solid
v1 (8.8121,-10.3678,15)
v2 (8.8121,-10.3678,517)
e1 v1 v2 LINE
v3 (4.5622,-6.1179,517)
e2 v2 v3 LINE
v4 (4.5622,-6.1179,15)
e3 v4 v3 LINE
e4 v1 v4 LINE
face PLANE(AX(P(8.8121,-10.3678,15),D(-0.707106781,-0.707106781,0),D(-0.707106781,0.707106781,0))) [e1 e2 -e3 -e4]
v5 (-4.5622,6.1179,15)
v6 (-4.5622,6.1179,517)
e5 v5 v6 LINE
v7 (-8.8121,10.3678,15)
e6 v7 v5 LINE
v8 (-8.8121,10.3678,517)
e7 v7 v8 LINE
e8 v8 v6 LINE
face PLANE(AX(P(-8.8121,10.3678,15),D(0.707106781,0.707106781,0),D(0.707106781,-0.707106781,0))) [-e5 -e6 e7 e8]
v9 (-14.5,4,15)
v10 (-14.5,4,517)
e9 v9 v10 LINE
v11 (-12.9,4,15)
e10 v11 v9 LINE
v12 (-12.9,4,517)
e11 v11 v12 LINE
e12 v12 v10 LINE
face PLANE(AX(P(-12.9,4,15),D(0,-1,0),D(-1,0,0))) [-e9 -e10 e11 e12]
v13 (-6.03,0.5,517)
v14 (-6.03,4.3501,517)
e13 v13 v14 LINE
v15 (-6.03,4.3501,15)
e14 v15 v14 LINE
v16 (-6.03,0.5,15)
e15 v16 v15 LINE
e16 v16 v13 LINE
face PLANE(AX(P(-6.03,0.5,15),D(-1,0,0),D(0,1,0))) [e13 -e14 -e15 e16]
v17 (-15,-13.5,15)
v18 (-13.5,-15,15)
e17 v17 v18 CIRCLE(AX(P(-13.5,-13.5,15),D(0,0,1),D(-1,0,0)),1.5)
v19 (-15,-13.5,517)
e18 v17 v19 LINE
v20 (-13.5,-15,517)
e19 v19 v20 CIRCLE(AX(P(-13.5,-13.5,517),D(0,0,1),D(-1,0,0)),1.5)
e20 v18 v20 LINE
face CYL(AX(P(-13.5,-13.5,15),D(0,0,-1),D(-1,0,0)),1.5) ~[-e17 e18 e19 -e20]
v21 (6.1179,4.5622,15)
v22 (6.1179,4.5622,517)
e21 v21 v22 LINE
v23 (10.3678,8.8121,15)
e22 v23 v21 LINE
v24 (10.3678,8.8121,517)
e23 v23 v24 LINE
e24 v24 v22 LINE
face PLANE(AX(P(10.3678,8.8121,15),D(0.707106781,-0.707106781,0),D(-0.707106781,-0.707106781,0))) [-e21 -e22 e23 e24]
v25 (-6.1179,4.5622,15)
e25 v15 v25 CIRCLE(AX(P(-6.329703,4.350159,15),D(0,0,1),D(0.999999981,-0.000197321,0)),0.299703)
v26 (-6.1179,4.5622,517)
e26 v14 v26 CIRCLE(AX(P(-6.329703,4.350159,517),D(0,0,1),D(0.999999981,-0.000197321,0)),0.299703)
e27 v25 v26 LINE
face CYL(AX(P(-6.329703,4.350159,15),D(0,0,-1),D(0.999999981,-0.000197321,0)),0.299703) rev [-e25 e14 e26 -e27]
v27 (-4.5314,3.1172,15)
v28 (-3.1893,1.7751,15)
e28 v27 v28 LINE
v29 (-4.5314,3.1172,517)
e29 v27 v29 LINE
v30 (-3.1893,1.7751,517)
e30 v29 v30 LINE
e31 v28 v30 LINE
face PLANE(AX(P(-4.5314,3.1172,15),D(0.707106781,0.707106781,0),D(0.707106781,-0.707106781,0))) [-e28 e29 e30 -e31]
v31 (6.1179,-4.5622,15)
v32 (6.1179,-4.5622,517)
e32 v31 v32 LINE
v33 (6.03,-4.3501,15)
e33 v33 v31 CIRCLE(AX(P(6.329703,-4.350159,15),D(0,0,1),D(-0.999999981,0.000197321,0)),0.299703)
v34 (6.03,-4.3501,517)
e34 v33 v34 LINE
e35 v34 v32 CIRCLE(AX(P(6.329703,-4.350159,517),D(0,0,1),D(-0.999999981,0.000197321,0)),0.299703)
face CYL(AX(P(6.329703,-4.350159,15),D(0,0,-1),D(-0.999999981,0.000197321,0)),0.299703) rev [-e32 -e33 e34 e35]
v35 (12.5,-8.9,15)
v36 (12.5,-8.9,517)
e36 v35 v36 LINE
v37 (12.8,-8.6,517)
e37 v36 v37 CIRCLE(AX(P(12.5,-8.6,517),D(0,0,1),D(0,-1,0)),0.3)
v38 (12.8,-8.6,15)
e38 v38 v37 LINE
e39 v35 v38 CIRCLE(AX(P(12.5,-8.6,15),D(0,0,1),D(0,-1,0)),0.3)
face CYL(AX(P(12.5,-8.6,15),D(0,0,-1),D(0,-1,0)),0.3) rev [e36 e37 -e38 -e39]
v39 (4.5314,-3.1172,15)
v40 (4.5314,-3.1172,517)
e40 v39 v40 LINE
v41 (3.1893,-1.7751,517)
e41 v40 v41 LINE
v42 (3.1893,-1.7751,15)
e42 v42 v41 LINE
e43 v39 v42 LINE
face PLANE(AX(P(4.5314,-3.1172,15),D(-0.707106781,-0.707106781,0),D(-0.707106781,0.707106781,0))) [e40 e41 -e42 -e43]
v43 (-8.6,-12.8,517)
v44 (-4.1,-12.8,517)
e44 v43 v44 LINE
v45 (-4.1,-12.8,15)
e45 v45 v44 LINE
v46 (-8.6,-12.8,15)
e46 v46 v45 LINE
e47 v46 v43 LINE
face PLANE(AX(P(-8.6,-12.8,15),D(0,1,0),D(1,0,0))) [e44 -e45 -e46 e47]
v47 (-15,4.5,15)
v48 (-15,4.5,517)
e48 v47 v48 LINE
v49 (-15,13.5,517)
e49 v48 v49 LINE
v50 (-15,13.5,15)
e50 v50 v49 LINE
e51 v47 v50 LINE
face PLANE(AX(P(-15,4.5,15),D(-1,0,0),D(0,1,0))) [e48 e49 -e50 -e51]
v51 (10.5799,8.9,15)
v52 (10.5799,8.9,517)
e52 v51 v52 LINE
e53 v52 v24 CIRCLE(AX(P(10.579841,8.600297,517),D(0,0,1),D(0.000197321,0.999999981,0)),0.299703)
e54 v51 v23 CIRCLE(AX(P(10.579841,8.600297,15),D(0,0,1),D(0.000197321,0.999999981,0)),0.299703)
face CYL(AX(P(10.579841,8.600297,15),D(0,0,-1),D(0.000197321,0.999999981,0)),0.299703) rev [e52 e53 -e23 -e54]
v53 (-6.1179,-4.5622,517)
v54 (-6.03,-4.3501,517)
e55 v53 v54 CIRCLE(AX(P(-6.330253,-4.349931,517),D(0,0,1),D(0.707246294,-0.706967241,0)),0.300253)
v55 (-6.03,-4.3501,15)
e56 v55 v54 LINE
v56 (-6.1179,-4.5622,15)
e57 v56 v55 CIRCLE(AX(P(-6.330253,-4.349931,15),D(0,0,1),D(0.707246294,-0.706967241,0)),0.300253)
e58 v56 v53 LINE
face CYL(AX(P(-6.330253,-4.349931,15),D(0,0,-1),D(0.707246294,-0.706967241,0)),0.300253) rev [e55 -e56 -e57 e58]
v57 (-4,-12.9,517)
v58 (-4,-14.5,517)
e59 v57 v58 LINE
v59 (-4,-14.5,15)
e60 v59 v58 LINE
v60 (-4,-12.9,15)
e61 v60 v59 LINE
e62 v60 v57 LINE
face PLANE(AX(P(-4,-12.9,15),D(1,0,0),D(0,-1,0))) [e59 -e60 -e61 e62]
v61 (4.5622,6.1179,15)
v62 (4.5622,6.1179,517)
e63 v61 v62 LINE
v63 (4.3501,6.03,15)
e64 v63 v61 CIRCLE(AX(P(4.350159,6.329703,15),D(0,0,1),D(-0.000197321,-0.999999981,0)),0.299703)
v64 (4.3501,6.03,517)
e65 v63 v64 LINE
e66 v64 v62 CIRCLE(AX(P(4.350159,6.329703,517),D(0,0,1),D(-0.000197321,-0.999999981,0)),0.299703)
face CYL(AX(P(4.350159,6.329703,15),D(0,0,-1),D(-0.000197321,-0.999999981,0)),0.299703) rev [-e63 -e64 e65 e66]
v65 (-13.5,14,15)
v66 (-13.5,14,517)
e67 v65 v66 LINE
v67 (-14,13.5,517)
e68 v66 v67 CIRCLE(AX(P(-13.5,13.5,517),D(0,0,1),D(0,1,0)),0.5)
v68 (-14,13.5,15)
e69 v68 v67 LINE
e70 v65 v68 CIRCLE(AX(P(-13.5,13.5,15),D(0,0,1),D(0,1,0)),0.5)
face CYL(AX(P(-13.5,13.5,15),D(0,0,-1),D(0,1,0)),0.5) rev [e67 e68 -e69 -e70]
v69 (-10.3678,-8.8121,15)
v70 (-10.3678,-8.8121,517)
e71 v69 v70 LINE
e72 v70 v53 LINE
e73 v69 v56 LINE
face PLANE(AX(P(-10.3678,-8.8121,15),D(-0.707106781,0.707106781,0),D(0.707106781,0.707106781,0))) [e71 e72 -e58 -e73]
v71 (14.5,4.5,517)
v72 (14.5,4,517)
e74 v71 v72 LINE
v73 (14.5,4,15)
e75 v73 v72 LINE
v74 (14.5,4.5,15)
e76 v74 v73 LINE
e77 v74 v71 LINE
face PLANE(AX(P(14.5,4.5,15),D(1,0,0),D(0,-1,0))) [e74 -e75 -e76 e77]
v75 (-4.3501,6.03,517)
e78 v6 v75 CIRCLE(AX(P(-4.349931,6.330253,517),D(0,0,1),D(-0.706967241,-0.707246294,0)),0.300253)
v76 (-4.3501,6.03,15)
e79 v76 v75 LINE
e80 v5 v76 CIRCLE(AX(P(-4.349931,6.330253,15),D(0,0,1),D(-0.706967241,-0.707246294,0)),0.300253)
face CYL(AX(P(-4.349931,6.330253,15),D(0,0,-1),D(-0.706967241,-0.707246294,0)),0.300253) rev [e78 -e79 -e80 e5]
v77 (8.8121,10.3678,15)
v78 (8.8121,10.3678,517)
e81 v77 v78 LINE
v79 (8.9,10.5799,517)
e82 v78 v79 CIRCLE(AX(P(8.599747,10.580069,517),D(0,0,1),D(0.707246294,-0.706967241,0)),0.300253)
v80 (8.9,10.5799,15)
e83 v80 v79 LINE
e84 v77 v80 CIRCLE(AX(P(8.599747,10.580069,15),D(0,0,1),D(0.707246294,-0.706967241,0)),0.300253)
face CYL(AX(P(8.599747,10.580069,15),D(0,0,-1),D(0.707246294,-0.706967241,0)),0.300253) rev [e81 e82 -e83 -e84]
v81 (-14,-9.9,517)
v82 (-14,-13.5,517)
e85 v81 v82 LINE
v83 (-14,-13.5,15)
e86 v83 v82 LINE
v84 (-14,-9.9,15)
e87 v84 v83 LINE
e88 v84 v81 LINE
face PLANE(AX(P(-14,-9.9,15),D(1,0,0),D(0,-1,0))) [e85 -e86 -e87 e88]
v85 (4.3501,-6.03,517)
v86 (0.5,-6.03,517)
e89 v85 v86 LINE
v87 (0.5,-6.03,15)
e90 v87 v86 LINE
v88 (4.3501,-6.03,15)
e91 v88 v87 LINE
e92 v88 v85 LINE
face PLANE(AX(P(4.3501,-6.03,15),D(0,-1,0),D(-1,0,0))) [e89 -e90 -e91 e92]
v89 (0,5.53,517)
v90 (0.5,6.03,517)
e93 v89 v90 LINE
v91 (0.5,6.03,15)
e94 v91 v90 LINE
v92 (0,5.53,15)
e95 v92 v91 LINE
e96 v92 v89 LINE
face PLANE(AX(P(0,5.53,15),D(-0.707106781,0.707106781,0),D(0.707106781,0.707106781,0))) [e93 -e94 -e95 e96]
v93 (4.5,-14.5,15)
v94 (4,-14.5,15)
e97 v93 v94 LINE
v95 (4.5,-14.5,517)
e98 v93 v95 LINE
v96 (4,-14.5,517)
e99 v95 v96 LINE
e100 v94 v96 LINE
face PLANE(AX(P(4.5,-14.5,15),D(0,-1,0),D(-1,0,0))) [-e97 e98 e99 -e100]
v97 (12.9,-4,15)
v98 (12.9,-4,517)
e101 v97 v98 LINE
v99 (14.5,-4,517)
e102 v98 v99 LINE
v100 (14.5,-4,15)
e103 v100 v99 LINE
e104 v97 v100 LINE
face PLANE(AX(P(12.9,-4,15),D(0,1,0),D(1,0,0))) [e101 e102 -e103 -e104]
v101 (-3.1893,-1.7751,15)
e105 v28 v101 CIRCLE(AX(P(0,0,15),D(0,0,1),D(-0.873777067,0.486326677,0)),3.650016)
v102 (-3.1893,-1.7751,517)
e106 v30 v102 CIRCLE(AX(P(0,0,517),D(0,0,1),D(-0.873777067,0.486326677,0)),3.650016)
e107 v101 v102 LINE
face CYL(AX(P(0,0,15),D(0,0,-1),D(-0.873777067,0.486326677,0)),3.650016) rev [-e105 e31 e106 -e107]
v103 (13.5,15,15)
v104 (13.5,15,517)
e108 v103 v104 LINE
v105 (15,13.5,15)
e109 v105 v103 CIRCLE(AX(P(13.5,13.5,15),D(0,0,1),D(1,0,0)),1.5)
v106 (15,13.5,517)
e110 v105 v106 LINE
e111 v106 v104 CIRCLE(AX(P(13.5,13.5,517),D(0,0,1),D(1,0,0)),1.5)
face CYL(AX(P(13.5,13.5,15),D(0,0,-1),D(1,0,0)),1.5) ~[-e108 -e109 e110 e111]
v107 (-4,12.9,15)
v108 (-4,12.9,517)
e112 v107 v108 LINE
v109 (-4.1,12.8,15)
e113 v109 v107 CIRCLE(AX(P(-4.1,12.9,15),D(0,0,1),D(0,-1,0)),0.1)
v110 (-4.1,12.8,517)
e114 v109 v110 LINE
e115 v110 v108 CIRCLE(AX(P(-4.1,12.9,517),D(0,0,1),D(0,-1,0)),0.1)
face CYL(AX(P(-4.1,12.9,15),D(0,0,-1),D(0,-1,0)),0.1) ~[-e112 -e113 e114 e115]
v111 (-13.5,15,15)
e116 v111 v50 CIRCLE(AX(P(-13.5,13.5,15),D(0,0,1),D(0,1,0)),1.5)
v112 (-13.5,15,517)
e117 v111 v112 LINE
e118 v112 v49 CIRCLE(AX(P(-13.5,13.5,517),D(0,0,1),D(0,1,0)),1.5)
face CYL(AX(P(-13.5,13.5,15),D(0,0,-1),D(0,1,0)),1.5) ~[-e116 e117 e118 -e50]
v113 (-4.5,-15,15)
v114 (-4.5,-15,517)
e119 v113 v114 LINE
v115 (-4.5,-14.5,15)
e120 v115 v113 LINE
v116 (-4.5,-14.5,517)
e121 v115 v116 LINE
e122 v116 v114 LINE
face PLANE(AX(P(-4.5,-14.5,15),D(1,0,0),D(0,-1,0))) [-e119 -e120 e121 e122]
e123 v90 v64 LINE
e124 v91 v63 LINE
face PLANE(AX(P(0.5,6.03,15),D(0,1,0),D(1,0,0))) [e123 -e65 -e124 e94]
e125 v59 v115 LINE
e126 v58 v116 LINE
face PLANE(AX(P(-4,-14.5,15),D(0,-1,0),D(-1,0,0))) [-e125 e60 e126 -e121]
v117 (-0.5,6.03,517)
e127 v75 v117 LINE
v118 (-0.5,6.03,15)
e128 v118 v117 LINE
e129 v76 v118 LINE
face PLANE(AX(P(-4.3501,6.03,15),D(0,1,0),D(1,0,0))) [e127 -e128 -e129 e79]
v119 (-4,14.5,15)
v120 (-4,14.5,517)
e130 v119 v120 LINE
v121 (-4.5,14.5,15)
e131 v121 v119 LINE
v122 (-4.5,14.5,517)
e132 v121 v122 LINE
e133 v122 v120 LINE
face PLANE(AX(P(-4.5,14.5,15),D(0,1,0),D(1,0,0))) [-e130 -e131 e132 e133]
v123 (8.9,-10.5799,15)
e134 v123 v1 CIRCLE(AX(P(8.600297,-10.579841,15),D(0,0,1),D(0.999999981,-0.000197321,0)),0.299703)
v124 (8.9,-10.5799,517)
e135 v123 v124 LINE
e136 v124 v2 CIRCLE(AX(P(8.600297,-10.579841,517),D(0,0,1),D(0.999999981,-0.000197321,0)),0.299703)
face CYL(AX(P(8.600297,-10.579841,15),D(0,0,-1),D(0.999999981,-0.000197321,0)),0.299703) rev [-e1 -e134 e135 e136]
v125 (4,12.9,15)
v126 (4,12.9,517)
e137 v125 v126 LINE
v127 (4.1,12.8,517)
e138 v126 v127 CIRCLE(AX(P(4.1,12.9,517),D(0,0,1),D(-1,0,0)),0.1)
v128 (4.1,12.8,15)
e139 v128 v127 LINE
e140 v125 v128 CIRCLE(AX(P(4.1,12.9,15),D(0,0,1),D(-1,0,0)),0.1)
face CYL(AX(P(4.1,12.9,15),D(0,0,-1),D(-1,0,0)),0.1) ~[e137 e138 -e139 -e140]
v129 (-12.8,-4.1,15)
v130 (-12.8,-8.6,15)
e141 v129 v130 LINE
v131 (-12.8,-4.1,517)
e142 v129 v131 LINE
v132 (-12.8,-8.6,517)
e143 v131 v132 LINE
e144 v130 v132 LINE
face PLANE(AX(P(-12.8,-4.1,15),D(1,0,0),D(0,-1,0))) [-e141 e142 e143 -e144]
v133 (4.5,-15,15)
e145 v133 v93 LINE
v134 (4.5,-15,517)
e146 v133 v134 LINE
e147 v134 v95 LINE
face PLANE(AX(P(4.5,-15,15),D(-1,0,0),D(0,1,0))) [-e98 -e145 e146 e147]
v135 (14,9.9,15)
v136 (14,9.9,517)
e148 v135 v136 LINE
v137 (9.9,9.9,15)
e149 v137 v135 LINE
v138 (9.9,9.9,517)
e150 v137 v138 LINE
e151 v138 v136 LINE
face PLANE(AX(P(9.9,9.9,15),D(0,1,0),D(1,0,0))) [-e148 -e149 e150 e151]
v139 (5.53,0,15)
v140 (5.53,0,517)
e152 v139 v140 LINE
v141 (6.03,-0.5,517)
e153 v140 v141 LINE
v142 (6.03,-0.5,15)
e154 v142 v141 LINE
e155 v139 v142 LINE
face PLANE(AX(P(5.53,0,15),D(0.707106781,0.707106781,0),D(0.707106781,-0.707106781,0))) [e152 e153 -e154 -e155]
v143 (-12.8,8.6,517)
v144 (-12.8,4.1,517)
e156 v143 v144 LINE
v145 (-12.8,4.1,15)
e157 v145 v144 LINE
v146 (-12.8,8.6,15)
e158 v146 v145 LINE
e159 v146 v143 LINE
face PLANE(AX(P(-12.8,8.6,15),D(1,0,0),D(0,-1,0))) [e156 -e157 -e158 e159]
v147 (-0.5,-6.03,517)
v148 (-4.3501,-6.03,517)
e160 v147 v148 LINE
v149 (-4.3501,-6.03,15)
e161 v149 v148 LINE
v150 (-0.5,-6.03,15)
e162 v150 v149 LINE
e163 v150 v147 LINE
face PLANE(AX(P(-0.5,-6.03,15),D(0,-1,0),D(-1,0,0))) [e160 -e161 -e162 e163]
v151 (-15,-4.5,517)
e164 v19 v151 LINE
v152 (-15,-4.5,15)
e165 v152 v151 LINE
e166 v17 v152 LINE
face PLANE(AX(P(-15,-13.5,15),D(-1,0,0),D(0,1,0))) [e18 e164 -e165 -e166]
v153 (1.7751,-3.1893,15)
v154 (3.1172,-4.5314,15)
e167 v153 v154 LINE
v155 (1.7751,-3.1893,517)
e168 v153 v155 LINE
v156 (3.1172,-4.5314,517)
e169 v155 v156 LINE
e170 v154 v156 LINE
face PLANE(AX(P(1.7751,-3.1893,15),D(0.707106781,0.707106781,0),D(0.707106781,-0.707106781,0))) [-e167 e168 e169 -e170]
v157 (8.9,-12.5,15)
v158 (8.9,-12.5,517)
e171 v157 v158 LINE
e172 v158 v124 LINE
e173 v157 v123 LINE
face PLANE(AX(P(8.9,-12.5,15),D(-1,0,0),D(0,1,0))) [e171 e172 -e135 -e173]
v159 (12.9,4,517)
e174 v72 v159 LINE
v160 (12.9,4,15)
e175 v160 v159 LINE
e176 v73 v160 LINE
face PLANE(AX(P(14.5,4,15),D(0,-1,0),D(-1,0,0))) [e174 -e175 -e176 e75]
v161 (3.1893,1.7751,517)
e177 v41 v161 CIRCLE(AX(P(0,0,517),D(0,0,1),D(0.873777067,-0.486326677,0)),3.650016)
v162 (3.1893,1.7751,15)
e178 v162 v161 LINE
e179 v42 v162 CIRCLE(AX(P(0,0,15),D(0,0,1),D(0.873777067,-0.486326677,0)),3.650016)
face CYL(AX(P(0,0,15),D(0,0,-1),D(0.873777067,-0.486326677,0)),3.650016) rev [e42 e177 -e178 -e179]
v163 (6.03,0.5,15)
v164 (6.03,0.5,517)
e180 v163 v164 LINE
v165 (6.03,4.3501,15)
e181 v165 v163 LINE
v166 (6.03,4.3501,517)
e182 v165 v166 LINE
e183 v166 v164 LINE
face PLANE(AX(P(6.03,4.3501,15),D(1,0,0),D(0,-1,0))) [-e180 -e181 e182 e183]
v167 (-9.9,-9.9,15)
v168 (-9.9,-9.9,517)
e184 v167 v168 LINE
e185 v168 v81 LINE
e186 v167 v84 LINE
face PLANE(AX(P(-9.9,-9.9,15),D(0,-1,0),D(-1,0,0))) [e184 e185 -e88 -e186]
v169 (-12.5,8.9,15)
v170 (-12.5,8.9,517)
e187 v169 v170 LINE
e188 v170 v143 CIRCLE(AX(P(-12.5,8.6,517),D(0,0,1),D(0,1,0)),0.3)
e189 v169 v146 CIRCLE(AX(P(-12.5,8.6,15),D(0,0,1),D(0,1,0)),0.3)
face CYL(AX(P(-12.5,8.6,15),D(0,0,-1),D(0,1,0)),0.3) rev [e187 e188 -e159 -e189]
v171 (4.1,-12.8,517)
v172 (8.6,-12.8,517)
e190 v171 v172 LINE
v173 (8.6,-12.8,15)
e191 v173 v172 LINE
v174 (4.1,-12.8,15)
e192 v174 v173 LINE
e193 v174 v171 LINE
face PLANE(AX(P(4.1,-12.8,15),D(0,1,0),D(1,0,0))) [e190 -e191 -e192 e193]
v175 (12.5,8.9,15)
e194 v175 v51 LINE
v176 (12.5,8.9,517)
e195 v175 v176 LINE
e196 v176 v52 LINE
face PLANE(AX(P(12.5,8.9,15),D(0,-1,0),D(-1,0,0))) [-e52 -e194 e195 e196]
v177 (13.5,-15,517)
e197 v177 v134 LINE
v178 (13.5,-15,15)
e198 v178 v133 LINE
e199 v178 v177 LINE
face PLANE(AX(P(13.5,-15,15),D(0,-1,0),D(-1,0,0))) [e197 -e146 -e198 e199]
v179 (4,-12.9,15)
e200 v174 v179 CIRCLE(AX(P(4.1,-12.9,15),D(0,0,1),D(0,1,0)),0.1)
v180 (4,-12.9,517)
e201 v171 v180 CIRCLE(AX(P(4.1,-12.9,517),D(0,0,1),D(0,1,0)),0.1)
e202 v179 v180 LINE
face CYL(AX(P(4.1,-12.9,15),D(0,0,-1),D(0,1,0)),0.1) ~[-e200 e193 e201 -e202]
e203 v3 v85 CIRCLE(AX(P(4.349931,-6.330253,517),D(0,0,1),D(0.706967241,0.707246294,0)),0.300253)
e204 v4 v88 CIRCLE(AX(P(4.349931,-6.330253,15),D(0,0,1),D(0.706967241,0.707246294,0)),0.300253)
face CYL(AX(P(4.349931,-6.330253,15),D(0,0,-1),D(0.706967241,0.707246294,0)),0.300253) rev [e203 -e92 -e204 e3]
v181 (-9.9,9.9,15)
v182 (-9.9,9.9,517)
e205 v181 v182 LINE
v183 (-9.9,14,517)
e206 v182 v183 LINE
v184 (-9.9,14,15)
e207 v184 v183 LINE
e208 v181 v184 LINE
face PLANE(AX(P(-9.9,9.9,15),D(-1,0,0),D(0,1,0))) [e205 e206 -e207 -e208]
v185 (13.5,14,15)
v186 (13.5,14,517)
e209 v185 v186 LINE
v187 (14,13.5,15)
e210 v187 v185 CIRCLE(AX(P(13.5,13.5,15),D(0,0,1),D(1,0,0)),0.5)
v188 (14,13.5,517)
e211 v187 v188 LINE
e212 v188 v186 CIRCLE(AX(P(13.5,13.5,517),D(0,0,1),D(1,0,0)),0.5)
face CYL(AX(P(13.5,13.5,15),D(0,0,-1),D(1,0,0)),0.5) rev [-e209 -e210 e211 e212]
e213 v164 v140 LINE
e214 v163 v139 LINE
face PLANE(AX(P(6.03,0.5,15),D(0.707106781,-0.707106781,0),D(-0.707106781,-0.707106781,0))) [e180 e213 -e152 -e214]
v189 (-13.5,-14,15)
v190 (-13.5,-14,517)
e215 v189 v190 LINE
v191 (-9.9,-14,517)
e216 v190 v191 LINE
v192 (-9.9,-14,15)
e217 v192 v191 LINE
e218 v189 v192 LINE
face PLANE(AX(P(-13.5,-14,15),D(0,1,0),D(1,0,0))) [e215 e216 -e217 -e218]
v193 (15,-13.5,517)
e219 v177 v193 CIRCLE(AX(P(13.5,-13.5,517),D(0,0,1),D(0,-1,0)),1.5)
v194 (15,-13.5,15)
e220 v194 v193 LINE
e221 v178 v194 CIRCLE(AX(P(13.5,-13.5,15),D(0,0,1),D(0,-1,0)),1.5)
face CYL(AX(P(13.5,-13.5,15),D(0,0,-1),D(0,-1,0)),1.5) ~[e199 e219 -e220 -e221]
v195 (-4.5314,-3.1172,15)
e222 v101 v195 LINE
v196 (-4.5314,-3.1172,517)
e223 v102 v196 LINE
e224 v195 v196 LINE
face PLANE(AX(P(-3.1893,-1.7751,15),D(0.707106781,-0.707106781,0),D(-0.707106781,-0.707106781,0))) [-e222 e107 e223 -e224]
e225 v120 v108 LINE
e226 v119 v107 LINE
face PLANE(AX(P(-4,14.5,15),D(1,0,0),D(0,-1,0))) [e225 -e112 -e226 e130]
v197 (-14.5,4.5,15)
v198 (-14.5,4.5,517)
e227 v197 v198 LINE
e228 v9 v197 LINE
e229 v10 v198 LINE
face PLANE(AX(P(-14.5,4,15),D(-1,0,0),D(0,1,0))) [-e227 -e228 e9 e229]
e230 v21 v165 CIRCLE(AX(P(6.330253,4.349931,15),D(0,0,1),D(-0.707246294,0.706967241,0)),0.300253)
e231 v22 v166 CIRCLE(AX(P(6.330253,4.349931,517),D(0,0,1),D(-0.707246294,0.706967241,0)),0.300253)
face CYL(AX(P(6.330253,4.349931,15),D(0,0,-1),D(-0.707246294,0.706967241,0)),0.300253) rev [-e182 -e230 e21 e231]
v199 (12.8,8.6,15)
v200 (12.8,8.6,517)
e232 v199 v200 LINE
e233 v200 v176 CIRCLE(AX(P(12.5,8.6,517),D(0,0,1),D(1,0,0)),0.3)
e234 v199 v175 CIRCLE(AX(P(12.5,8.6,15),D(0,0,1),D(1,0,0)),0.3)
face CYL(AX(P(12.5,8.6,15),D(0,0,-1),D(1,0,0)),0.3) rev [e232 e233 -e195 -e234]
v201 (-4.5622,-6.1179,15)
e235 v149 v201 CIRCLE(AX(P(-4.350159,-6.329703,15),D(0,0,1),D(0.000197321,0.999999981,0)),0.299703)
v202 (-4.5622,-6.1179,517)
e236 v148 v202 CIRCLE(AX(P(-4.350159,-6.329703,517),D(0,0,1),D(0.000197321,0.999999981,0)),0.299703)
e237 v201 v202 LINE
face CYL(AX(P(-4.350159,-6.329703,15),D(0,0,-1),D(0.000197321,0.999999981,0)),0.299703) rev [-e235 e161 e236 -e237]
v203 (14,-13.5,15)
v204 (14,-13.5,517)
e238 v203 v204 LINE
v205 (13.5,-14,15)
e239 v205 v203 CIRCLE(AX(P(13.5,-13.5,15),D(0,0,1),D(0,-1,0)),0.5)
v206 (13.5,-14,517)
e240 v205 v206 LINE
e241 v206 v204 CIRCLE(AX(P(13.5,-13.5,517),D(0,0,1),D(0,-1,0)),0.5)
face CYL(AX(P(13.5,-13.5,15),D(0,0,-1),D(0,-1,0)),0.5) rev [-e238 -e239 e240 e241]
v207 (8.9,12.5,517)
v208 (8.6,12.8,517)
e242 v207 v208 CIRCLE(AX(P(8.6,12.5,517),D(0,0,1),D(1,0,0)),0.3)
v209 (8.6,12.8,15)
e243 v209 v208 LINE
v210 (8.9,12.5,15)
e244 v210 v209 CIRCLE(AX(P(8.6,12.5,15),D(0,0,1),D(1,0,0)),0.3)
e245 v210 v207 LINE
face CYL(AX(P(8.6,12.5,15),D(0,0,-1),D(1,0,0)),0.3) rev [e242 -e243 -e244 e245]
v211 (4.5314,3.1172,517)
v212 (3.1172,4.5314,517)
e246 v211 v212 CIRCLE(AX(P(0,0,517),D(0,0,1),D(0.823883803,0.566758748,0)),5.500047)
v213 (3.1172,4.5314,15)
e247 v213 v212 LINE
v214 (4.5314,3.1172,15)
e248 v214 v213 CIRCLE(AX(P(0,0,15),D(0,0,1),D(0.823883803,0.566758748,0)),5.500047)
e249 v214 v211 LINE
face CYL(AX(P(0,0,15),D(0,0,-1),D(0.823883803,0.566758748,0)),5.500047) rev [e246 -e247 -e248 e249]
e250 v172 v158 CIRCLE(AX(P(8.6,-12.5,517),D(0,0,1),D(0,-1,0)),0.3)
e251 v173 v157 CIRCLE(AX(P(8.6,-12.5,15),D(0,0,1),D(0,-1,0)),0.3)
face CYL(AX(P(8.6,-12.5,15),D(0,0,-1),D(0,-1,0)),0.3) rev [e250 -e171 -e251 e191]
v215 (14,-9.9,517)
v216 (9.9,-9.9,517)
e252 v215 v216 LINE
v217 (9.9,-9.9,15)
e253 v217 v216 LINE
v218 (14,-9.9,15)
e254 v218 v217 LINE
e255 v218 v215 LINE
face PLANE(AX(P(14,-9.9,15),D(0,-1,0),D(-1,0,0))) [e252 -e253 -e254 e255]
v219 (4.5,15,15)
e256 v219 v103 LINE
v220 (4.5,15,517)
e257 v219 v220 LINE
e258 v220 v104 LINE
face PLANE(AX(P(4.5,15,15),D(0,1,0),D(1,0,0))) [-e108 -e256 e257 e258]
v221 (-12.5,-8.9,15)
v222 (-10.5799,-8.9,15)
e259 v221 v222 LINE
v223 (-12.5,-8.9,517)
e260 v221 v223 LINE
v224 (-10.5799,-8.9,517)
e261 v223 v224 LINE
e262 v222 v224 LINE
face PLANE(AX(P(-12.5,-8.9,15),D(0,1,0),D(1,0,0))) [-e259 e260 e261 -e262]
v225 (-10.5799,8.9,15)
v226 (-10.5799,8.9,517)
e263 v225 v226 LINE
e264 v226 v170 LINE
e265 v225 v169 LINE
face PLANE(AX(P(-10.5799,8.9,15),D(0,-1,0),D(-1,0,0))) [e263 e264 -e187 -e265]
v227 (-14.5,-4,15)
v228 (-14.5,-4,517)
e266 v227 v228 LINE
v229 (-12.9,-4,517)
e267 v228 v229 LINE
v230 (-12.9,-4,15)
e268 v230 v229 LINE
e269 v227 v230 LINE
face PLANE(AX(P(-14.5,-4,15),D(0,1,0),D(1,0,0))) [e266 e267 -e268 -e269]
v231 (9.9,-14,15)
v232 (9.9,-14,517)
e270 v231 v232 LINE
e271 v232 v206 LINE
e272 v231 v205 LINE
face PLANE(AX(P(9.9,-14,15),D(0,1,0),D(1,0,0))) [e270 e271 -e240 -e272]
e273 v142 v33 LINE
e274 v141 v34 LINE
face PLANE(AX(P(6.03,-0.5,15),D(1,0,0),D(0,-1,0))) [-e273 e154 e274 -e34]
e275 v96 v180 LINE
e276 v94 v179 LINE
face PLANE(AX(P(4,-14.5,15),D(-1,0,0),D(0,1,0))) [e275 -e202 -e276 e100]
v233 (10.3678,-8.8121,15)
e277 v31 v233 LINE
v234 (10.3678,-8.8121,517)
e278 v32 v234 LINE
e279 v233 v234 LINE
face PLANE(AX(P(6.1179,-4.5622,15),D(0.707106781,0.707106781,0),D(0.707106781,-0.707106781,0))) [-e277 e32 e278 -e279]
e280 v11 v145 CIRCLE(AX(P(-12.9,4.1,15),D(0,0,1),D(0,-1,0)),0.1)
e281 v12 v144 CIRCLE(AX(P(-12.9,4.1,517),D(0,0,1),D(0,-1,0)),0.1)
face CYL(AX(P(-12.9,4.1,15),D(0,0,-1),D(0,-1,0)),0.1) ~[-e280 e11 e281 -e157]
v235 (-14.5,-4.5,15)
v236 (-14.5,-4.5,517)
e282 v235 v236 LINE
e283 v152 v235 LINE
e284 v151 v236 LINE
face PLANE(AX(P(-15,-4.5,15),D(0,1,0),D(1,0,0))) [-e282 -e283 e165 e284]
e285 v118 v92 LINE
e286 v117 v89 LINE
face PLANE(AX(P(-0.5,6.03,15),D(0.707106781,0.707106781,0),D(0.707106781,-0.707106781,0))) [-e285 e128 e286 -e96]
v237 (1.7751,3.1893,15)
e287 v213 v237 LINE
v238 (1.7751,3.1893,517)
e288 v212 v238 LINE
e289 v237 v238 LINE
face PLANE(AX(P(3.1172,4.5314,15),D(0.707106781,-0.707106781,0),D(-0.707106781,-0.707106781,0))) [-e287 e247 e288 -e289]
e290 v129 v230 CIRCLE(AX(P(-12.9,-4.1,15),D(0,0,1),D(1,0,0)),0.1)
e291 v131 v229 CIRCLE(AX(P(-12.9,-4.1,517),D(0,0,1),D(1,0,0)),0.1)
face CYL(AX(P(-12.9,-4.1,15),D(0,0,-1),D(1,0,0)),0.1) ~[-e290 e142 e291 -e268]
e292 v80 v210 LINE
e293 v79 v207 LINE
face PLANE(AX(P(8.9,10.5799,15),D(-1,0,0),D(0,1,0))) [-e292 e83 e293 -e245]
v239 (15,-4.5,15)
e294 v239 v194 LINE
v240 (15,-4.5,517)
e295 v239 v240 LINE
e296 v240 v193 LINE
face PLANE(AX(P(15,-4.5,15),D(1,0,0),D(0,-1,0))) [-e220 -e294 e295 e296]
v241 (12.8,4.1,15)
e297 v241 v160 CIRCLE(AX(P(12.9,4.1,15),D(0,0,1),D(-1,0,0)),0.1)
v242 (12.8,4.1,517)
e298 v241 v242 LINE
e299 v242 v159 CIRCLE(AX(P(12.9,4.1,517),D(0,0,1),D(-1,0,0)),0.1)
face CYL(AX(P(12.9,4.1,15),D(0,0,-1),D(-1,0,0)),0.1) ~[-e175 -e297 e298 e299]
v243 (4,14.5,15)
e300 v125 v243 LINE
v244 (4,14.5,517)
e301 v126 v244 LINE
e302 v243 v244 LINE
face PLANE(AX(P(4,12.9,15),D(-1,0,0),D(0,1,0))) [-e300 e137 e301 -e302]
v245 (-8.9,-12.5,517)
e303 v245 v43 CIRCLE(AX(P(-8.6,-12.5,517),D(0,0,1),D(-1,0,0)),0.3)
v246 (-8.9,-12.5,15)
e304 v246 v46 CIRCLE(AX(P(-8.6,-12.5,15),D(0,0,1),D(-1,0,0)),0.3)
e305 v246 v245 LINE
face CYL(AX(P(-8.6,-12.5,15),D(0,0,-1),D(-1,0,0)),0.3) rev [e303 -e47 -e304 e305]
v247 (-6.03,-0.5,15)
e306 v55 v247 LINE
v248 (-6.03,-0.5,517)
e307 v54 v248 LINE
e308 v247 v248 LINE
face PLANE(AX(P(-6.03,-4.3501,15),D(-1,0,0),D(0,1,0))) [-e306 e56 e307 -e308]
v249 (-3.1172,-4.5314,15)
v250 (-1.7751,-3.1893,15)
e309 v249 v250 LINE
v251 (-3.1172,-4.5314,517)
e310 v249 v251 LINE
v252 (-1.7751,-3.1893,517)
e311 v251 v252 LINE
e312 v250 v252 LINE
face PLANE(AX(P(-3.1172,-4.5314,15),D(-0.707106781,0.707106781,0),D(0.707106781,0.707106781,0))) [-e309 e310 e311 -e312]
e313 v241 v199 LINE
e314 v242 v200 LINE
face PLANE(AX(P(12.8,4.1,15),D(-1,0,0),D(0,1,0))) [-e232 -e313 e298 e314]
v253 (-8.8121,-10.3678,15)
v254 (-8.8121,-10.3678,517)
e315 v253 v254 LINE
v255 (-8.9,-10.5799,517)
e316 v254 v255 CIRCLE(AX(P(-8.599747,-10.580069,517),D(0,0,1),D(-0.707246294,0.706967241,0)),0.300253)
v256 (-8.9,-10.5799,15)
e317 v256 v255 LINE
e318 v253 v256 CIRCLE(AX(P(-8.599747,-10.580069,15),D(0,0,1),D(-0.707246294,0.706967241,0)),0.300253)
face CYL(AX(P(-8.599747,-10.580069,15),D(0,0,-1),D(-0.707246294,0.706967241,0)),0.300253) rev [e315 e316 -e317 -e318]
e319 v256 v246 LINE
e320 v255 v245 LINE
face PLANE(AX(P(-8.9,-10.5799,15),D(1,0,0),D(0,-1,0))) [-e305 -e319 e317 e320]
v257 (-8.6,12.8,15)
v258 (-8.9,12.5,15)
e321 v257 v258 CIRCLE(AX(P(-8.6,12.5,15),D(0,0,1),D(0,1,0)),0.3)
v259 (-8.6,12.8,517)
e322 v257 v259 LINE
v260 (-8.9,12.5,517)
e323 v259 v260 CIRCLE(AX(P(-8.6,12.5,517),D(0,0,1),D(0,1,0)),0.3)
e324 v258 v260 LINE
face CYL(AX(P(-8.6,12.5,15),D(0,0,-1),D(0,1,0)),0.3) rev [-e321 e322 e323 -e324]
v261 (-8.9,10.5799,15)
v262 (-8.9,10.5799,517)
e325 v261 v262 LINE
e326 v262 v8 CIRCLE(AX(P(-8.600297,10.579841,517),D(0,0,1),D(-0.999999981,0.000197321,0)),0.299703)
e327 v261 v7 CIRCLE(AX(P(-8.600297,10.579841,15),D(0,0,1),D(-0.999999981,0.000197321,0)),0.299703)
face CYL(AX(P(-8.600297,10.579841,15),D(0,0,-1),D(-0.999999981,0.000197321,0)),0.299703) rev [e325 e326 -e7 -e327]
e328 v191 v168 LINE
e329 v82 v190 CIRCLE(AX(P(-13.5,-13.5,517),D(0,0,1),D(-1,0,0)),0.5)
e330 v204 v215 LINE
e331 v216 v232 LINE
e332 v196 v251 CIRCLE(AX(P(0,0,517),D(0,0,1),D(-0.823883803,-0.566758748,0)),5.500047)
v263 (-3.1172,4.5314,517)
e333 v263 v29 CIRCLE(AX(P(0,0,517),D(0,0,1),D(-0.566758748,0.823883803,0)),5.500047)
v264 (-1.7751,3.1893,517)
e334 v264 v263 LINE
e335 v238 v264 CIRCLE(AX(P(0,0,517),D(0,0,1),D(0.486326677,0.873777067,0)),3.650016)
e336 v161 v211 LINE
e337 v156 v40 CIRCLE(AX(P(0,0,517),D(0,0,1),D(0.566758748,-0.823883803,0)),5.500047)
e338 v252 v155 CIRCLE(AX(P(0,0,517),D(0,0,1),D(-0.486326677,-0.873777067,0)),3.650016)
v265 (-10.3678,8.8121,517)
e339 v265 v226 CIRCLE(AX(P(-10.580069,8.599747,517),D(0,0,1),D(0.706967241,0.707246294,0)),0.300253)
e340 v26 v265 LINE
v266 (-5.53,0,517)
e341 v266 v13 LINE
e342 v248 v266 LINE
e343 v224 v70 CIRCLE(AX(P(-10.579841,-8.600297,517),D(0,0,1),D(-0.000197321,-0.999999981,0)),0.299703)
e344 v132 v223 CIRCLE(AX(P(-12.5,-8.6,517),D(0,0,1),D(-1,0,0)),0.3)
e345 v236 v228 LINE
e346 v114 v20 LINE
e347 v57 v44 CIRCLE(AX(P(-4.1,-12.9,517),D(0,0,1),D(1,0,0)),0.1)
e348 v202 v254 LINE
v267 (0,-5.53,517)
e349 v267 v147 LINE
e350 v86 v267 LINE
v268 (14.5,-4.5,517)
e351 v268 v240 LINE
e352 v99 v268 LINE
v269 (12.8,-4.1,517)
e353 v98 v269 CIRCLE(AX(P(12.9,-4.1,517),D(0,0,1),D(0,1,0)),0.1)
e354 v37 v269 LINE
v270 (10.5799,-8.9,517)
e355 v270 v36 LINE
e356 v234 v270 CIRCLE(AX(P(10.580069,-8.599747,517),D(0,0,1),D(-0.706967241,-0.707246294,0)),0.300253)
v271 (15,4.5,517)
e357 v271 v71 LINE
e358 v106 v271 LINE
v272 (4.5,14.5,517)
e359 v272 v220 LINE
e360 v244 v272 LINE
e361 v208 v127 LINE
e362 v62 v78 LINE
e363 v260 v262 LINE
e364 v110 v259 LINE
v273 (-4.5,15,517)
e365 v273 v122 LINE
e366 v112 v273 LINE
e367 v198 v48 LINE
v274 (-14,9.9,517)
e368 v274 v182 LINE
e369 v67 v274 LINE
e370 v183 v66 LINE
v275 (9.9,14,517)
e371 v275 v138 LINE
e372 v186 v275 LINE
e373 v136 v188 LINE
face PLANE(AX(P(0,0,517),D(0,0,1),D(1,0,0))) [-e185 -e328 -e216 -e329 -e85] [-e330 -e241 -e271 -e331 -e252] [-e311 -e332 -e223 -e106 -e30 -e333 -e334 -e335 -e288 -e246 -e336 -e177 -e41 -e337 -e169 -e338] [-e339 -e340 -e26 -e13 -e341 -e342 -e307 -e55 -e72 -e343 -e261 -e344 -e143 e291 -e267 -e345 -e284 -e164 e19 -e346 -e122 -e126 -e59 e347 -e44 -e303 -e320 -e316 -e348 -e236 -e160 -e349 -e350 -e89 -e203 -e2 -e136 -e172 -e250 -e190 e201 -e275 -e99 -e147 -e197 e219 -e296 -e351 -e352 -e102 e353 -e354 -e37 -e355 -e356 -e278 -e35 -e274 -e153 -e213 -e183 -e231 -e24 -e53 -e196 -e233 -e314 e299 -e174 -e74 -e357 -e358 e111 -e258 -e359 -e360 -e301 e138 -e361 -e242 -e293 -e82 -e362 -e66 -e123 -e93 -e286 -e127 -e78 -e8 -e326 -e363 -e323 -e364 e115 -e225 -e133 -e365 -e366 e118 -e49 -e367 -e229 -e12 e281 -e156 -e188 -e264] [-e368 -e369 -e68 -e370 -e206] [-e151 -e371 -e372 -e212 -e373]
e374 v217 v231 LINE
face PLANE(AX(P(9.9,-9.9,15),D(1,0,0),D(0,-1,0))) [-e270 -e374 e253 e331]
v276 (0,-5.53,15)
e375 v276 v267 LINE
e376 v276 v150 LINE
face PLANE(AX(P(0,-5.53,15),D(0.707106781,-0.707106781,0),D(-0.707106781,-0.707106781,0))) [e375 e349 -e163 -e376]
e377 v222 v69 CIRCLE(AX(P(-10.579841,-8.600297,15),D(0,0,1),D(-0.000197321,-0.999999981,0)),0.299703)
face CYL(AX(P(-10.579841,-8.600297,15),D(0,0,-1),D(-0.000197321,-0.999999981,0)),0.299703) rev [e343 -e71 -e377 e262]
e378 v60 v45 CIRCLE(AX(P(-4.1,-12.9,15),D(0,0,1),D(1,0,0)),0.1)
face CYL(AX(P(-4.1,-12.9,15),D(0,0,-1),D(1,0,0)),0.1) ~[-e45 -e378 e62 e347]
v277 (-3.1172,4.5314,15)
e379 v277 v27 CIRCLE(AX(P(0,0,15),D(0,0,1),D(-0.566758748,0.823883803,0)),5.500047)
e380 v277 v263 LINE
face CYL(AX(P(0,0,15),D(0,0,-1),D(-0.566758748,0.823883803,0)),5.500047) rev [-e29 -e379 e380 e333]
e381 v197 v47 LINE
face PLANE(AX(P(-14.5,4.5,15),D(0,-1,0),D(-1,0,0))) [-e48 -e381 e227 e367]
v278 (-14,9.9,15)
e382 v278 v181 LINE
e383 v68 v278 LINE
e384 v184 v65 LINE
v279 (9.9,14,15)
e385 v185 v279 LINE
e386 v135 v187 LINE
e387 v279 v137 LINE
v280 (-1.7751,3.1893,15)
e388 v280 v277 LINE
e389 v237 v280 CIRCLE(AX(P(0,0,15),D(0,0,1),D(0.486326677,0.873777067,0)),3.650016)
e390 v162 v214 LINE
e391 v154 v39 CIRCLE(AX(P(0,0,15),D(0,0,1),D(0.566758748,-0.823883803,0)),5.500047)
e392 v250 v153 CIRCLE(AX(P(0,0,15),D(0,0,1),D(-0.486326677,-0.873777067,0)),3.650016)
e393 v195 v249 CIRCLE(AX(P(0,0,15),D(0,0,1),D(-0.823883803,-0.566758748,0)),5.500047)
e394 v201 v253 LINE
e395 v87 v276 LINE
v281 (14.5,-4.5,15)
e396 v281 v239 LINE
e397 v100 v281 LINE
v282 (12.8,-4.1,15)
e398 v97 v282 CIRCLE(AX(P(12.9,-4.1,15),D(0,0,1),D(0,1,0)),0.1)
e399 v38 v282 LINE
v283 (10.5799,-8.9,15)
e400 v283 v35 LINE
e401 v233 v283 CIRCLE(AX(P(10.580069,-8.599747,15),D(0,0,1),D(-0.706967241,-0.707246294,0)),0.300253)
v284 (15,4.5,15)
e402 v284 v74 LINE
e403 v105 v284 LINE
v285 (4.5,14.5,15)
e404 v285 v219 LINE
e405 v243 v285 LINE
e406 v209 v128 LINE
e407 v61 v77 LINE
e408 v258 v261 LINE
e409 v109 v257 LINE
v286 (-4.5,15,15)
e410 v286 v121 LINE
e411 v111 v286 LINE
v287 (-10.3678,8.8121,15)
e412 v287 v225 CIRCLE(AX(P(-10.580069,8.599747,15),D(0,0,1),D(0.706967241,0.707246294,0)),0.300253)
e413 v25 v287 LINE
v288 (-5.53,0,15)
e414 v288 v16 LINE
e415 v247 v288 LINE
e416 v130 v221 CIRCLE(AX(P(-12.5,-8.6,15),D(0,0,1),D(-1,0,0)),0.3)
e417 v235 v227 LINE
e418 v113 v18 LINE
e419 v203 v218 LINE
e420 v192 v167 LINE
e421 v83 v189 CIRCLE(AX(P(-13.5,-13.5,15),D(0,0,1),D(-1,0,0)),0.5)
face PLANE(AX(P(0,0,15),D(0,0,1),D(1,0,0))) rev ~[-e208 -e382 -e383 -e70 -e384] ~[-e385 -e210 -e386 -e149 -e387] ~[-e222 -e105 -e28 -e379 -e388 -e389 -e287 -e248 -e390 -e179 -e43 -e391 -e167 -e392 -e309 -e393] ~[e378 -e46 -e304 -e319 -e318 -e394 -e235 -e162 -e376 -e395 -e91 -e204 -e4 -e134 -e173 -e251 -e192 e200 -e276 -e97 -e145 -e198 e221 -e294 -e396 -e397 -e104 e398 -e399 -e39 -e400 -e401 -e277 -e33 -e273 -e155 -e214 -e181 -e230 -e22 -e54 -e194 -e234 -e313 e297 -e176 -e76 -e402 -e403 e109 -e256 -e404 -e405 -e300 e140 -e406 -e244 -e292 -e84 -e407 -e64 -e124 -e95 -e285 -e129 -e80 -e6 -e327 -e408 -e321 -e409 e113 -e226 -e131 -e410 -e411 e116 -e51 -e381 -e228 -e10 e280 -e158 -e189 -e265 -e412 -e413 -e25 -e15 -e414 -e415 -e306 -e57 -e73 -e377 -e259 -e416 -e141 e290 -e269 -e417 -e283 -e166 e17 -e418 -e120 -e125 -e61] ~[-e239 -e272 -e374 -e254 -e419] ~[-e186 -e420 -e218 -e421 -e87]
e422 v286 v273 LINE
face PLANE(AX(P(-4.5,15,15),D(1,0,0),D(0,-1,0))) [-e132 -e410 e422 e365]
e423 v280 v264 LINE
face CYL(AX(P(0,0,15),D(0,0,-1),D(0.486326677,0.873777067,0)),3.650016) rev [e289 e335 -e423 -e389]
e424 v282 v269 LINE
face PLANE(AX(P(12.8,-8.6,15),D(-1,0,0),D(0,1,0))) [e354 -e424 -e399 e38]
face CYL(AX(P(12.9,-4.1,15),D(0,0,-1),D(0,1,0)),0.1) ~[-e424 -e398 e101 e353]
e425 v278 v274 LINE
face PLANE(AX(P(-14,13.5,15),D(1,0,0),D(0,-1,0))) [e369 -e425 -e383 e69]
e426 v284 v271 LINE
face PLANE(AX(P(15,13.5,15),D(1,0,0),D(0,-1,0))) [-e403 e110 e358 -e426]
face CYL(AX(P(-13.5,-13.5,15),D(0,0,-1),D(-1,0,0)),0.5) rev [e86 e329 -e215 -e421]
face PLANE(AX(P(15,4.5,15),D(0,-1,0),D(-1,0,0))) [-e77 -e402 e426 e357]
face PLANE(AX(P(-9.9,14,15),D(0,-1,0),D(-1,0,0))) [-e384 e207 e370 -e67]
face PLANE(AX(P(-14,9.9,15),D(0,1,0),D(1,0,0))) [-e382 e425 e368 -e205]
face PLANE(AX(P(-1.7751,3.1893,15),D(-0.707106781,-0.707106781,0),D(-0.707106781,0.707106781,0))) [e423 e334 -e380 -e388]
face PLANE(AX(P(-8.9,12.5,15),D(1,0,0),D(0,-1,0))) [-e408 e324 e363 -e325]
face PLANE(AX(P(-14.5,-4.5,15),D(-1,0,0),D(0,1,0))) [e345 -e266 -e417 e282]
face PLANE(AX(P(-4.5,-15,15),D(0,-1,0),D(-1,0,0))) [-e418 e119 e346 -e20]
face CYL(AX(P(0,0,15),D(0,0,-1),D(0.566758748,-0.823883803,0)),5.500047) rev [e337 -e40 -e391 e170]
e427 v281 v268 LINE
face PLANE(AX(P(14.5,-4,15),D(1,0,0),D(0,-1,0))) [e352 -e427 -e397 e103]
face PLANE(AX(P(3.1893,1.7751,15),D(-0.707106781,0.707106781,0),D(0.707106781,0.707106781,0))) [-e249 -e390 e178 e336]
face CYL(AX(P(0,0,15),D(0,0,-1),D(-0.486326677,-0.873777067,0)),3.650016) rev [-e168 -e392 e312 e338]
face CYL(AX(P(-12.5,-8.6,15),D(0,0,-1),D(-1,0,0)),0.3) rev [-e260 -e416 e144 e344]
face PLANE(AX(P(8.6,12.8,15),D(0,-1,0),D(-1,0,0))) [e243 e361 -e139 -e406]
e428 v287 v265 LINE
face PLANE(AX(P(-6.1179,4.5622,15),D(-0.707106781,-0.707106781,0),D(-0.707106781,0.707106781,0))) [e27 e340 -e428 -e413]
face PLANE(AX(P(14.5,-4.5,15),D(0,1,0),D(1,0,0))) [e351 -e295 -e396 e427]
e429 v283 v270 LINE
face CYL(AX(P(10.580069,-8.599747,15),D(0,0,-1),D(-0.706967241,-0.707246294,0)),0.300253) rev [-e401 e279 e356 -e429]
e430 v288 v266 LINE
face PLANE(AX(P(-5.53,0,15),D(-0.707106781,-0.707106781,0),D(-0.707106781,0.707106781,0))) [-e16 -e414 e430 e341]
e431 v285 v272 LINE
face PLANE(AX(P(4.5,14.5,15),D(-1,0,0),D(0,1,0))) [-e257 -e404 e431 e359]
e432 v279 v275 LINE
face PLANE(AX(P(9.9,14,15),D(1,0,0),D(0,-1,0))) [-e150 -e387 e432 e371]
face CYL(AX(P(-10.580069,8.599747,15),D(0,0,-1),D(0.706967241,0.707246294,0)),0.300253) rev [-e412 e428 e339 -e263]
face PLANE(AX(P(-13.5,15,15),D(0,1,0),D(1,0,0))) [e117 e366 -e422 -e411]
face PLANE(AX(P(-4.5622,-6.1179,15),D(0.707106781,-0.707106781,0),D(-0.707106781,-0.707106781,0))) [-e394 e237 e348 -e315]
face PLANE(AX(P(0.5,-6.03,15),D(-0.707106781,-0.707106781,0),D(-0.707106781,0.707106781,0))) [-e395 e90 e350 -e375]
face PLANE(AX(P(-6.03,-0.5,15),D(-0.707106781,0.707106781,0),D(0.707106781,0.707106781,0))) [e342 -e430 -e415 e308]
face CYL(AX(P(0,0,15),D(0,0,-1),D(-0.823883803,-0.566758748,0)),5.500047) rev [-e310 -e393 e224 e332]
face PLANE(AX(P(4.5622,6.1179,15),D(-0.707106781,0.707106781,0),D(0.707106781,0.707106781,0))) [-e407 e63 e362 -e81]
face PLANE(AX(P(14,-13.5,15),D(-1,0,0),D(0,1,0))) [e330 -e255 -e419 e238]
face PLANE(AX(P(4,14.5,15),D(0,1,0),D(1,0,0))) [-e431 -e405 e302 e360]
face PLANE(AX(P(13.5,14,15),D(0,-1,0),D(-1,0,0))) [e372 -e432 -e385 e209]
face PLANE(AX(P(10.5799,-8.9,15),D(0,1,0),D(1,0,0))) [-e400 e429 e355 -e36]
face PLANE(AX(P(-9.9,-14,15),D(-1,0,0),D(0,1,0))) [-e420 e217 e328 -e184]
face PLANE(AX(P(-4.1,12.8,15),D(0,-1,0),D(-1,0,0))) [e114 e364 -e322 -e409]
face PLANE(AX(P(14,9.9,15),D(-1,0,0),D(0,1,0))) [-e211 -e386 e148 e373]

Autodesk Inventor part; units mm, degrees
ref_plane "Płaszczyzna początkowa" through (0, 0, 15) normal (0, 0, 1) x (1, 0, 0)
ref_plane "Płaszczyzna końcowa" through (0, 0, 517) normal (0, 0, 1) x (1, 0, 0)
sketch "Szkic" plane through (0, 0, 0) normal (0, 0, 1) x (1, 0, 0)
  line L0 (1.7751, -3.1893) -> (3.1172, -4.5314)
  arc A0 (-1.7751, -3.1893) -> (1.7751, -3.1893) centre (0, 0) ccw
  line L1 (-3.1172, -4.5314) -> (-1.7751, -3.1893)
  arc A1 (-4.5314, -3.1172) -> (-3.1172, -4.5314) centre (0, 0) ccw
  line L2 (-3.1893, -1.7751) -> (-4.5314, -3.1172)
  arc A2 (-3.1893, 1.7751) -> (-3.1893, -1.7751) centre (0, 0) ccw
  line L3 (-4.5314, 3.1172) -> (-3.1893, 1.7751)
  arc A3 (-3.1172, 4.5314) -> (-4.5314, 3.1172) centre (0, 0) ccw
  line L4 (-1.7751, 3.1893) -> (-3.1172, 4.5314)
  arc A4 (1.7751, 3.1893) -> (-1.7751, 3.1893) centre (0, 0) ccw
  line L5 (3.1172, 4.5314) -> (1.7751, 3.1893)
  arc A5 (4.5314, 3.1172) -> (3.1172, 4.5314) centre (0, 0) ccw
  line L6 (3.1893, 1.7751) -> (4.5314, 3.1172)
  arc A6 (3.1893, -1.7751) -> (3.1893, 1.7751) centre (0, 0) ccw
  line L7 (4.5314, -3.1172) -> (3.1893, -1.7751)
  arc A7 (3.1172, -4.5314) -> (4.5314, -3.1172) centre (0, 0) ccw
  line L8 (14, -13.5) -> (14, -9.9)
  arc A8 (13.5, -14) -> (14, -13.5) centre (13.5, -13.5) ccw
  line L9 (9.9, -14) -> (13.5, -14)
  line L10 (9.9, -9.9) -> (9.9, -14)
  line L11 (14, -9.9) -> (9.9, -9.9)
  line L12 (-9.9, -9.9) -> (-14, -9.9)
  line L13 (-9.9, -14) -> (-9.9, -9.9)
  line L14 (-13.5, -14) -> (-9.9, -14)
  arc A9 (-14, -13.5) -> (-13.5, -14) centre (-13.5, -13.5) ccw
  line L15 (-14, -9.9) -> (-14, -13.5)
  line L16 (14, 9.9) -> (14, 13.5)
  line L17 (9.9, 9.9) -> (14, 9.9)
  line L18 (9.9, 14) -> (9.9, 9.9)
  line L19 (13.5, 14) -> (9.9, 14)
  arc A10 (14, 13.5) -> (13.5, 14) centre (13.5, 13.5) ccw
  line L20 (-14, 9.9) -> (-9.9, 9.9)
  line L21 (-14, 13.5) -> (-14, 9.9)
  arc A11 (-13.5, 14) -> (-14, 13.5) centre (-13.5, 13.5) ccw
  line L22 (-9.9, 14) -> (-13.5, 14)
  line L23 (-9.9, 9.9) -> (-9.9, 14)
  line L24 (13.5, -15) -> (4.5, -15)
  arc A12 (13.5, -15) -> (15, -13.5) centre (13.5, -13.5) ccw
  line L25 (15, -4.5) -> (15, -13.5)
  line L26 (14.5, -4.5) -> (15, -4.5)
  line L27 (14.5, -4) -> (14.5, -4.5)
  line L28 (12.9, -4) -> (14.5, -4)
  arc A13 (12.9, -4) -> (12.8, -4.1) centre (12.9, -4.1) ccw
  line L29 (12.8, -8.6) -> (12.8, -4.1)
  arc A14 (12.5, -8.9) -> (12.8, -8.6) centre (12.5, -8.6) ccw
  line L30 (10.5799, -8.9) -> (12.5, -8.9)
  arc A15 (10.3678, -8.8121) -> (10.5799, -8.9) centre (10.5799, -8.6) ccw
  line L31 (6.1179, -4.5622) -> (10.3678, -8.8121)
  arc A16 (6.03, -4.3501) -> (6.1179, -4.5622) centre (6.33, -4.3501) ccw
  line L32 (6.03, -0.5) -> (6.03, -4.3501)
  line L33 (5.53, 0) -> (6.03, -0.5)
  line L34 (6.03, 0.5) -> (5.53, 0)
  line L35 (6.03, 4.3501) -> (6.03, 0.5)
  arc A17 (6.1179, 4.5622) -> (6.03, 4.3501) centre (6.33, 4.3501) ccw
  line L36 (10.3678, 8.8121) -> (6.1179, 4.5622)
  arc A18 (10.5799, 8.9) -> (10.3678, 8.8121) centre (10.5799, 8.6) ccw
  line L37 (12.5, 8.9) -> (10.5799, 8.9)
  arc A19 (12.8, 8.6) -> (12.5, 8.9) centre (12.5, 8.6) ccw
  line L38 (12.8, 4.1) -> (12.8, 8.6)
  arc A20 (12.8, 4.1) -> (12.9, 4) centre (12.9, 4.1) ccw
  line L39 (14.5, 4) -> (12.9, 4)
  line L40 (14.5, 4.5) -> (14.5, 4)
  line L41 (15, 4.5) -> (14.5, 4.5)
  line L42 (15, 13.5) -> (15, 4.5)
  arc A21 (15, 13.5) -> (13.5, 15) centre (13.5, 13.5) ccw
  line L43 (4.5, 15) -> (13.5, 15)
  line L44 (4.5, 14.5) -> (4.5, 15)
  line L45 (4, 14.5) -> (4.5, 14.5)
  line L46 (4, 12.9) -> (4, 14.5)
  arc A22 (4, 12.9) -> (4.1, 12.8) centre (4.1, 12.9) ccw
  line L47 (8.6, 12.8) -> (4.1, 12.8)
  arc A23 (8.9, 12.5) -> (8.6, 12.8) centre (8.6, 12.5) ccw
  line L48 (8.9, 10.5799) -> (8.9, 12.5)
  arc A24 (8.8121, 10.3678) -> (8.9, 10.5799) centre (8.6, 10.5799) ccw
  line L49 (4.5622, 6.1179) -> (8.8121, 10.3678)
  arc A25 (4.3501, 6.03) -> (4.5622, 6.1179) centre (4.3501, 6.33) ccw
  line L50 (0.5, 6.03) -> (4.3501, 6.03)
  line L51 (0, 5.53) -> (0.5, 6.03)
  line L52 (-0.5, 6.03) -> (0, 5.53)
  line L53 (-4.3501, 6.03) -> (-0.5, 6.03)
  arc A26 (-4.5622, 6.1179) -> (-4.3501, 6.03) centre (-4.3501, 6.33) ccw
  line L54 (-8.8121, 10.3678) -> (-4.5622, 6.1179)
  arc A27 (-8.9, 10.5799) -> (-8.8121, 10.3678) centre (-8.6, 10.5799) ccw
  line L55 (-8.9, 12.5) -> (-8.9, 10.5799)
  arc A28 (-8.6, 12.8) -> (-8.9, 12.5) centre (-8.6, 12.5) ccw
  line L56 (-4.1, 12.8) -> (-8.6, 12.8)
  arc A29 (-4.1, 12.8) -> (-4, 12.9) centre (-4.1, 12.9) ccw
  line L57 (-4, 14.5) -> (-4, 12.9)
  line L58 (-4.5, 14.5) -> (-4, 14.5)
  line L59 (-4.5, 15) -> (-4.5, 14.5)
  line L60 (-13.5, 15) -> (-4.5, 15)
  arc A30 (-13.5, 15) -> (-15, 13.5) centre (-13.5, 13.5) ccw
  line L61 (-15, 4.5) -> (-15, 13.5)
  line L62 (-14.5, 4.5) -> (-15, 4.5)
  line L63 (-14.5, 4) -> (-14.5, 4.5)
  line L64 (-12.9, 4) -> (-14.5, 4)
  arc A31 (-12.9, 4) -> (-12.8, 4.1) centre (-12.9, 4.1) ccw
  line L65 (-12.8, 8.6) -> (-12.8, 4.1)
  arc A32 (-12.5, 8.9) -> (-12.8, 8.6) centre (-12.5, 8.6) ccw
  line L66 (-10.5799, 8.9) -> (-12.5, 8.9)
  arc A33 (-10.3678, 8.8121) -> (-10.5799, 8.9) centre (-10.5799, 8.6) ccw
  line L67 (-6.1179, 4.5622) -> (-10.3678, 8.8121)
  arc A34 (-6.03, 4.3501) -> (-6.1179, 4.5622) centre (-6.33, 4.3501) ccw
  line L68 (-6.03, 0.5) -> (-6.03, 4.3501)
  line L69 (-5.53, 0) -> (-6.03, 0.5)
  line L70 (-6.03, -0.5) -> (-5.53, 0)
  line L71 (-6.03, -4.3501) -> (-6.03, -0.5)
  arc A35 (-6.1179, -4.5622) -> (-6.03, -4.3501) centre (-6.33, -4.3501) ccw
  line L72 (-10.3678, -8.8121) -> (-6.1179, -4.5622)
  arc A36 (-10.5799, -8.9) -> (-10.3678, -8.8121) centre (-10.5799, -8.6) ccw
  line L73 (-12.5, -8.9) -> (-10.5799, -8.9)
  arc A37 (-12.8, -8.6) -> (-12.5, -8.9) centre (-12.5, -8.6) ccw
  line L74 (-12.8, -4.1) -> (-12.8, -8.6)
  arc A38 (-12.8, -4.1) -> (-12.9, -4) centre (-12.9, -4.1) ccw
  line L75 (-14.5, -4) -> (-12.9, -4)
  line L76 (-14.5, -4.5) -> (-14.5, -4)
  line L77 (-15, -4.5) -> (-14.5, -4.5)
  line L78 (-15, -13.5) -> (-15, -4.5)
  arc A39 (-15, -13.5) -> (-13.5, -15) centre (-13.5, -13.5) ccw
  line L79 (-4.5, -15) -> (-13.5, -15)
  line L80 (-4.5, -14.5) -> (-4.5, -15)
  line L81 (-4, -14.5) -> (-4.5, -14.5)
  line L82 (-4, -12.9) -> (-4, -14.5)
  arc A40 (-4, -12.9) -> (-4.1, -12.8) centre (-4.1, -12.9) ccw
  line L83 (-8.6, -12.8) -> (-4.1, -12.8)
  arc A41 (-8.9, -12.5) -> (-8.6, -12.8) centre (-8.6, -12.5) ccw
  line L84 (-8.9, -10.5799) -> (-8.9, -12.5)
  arc A42 (-8.8121, -10.3678) -> (-8.9, -10.5799) centre (-8.6, -10.5799) ccw
  line L85 (-4.5622, -6.1179) -> (-8.8121, -10.3678)
  arc A43 (-4.3501, -6.03) -> (-4.5622, -6.1179) centre (-4.3501, -6.33) ccw
  line L86 (-0.5, -6.03) -> (-4.3501, -6.03)
  line L87 (0, -5.53) -> (-0.5, -6.03)
  line L88 (0.5, -6.03) -> (0, -5.53)
  line L89 (4.3501, -6.03) -> (0.5, -6.03)
  arc A44 (4.5622, -6.1179) -> (4.3501, -6.03) centre (4.3501, -6.33) ccw
  line L90 (8.8121, -10.3678) -> (4.5622, -6.1179)
  arc A45 (8.9, -10.5799) -> (8.8121, -10.3678) centre (8.6, -10.5799) ccw
  line L91 (8.9, -12.5) -> (8.9, -10.5799)
  arc A46 (8.6, -12.8) -> (8.9, -12.5) centre (8.6, -12.5) ccw
  line L92 (4.1, -12.8) -> (8.6, -12.8)
  arc A47 (4.1, -12.8) -> (4, -12.9) centre (4.1, -12.9) ccw
  line L93 (4, -14.5) -> (4, -12.9)
  line L94 (4.5, -14.5) -> (4, -14.5)
  line L95 (4.5, -15) -> (4.5, -14.5)
  point P0 (15, -15)
extrude "Bryła" add sketch "Szkic" along normal up to surface (502 mm away) from surface at 15
sketch "Szkic2" plane through (0, 0, 0) normal (0, 0, 1) x (1, 0, 0)
  line L0 (0, 0) -> (10, 0)
ref_plane "Płaszczyzna konstrukcyjna3" through (0, 0, 0) normal (0, -1, 0) x (1, 0, 0)
sketch "Szkic3" plane through (0, 0, 0) normal (0, -1, 0) x (1, 0, 0)
  line L0 (-2, 15) -> (12, 15)
  line L1 (-2, 517) -> (12, 517)
  dimension "d7" = 502
ref_plane "Płaszczyzna konstrukcyjna4" through (4.5, -430, 15) normal (0, 0, -1) x (-1, 0, 0)
split "Podział1" plane through (4.5, -430, 15) removes the side toward (0, 0, -1)
ref_plane "Płaszczyzna konstrukcyjna5" through (13.5, -475, 517) normal (0, 0, 1) x (1, 0, 0)
split "Podział2" plane through (13.5, -475, 517) removes the side toward (0, 0, 1)
equation "\"G_OFFSET_START\" = -15"
equation "\"G_OFFSET_END\" = -15"
equation "\"d2\" = -G_OFFSET_START"
equation "\"d3\" = Length + G_OFFSET_END"
equation "\"G_L\" = d7"
equation "\"Length\" = 532"
properties part number "COTS_ARMA_AR3703_30x30_Alu_Extr_00000010" material "Aluminium 6061"
